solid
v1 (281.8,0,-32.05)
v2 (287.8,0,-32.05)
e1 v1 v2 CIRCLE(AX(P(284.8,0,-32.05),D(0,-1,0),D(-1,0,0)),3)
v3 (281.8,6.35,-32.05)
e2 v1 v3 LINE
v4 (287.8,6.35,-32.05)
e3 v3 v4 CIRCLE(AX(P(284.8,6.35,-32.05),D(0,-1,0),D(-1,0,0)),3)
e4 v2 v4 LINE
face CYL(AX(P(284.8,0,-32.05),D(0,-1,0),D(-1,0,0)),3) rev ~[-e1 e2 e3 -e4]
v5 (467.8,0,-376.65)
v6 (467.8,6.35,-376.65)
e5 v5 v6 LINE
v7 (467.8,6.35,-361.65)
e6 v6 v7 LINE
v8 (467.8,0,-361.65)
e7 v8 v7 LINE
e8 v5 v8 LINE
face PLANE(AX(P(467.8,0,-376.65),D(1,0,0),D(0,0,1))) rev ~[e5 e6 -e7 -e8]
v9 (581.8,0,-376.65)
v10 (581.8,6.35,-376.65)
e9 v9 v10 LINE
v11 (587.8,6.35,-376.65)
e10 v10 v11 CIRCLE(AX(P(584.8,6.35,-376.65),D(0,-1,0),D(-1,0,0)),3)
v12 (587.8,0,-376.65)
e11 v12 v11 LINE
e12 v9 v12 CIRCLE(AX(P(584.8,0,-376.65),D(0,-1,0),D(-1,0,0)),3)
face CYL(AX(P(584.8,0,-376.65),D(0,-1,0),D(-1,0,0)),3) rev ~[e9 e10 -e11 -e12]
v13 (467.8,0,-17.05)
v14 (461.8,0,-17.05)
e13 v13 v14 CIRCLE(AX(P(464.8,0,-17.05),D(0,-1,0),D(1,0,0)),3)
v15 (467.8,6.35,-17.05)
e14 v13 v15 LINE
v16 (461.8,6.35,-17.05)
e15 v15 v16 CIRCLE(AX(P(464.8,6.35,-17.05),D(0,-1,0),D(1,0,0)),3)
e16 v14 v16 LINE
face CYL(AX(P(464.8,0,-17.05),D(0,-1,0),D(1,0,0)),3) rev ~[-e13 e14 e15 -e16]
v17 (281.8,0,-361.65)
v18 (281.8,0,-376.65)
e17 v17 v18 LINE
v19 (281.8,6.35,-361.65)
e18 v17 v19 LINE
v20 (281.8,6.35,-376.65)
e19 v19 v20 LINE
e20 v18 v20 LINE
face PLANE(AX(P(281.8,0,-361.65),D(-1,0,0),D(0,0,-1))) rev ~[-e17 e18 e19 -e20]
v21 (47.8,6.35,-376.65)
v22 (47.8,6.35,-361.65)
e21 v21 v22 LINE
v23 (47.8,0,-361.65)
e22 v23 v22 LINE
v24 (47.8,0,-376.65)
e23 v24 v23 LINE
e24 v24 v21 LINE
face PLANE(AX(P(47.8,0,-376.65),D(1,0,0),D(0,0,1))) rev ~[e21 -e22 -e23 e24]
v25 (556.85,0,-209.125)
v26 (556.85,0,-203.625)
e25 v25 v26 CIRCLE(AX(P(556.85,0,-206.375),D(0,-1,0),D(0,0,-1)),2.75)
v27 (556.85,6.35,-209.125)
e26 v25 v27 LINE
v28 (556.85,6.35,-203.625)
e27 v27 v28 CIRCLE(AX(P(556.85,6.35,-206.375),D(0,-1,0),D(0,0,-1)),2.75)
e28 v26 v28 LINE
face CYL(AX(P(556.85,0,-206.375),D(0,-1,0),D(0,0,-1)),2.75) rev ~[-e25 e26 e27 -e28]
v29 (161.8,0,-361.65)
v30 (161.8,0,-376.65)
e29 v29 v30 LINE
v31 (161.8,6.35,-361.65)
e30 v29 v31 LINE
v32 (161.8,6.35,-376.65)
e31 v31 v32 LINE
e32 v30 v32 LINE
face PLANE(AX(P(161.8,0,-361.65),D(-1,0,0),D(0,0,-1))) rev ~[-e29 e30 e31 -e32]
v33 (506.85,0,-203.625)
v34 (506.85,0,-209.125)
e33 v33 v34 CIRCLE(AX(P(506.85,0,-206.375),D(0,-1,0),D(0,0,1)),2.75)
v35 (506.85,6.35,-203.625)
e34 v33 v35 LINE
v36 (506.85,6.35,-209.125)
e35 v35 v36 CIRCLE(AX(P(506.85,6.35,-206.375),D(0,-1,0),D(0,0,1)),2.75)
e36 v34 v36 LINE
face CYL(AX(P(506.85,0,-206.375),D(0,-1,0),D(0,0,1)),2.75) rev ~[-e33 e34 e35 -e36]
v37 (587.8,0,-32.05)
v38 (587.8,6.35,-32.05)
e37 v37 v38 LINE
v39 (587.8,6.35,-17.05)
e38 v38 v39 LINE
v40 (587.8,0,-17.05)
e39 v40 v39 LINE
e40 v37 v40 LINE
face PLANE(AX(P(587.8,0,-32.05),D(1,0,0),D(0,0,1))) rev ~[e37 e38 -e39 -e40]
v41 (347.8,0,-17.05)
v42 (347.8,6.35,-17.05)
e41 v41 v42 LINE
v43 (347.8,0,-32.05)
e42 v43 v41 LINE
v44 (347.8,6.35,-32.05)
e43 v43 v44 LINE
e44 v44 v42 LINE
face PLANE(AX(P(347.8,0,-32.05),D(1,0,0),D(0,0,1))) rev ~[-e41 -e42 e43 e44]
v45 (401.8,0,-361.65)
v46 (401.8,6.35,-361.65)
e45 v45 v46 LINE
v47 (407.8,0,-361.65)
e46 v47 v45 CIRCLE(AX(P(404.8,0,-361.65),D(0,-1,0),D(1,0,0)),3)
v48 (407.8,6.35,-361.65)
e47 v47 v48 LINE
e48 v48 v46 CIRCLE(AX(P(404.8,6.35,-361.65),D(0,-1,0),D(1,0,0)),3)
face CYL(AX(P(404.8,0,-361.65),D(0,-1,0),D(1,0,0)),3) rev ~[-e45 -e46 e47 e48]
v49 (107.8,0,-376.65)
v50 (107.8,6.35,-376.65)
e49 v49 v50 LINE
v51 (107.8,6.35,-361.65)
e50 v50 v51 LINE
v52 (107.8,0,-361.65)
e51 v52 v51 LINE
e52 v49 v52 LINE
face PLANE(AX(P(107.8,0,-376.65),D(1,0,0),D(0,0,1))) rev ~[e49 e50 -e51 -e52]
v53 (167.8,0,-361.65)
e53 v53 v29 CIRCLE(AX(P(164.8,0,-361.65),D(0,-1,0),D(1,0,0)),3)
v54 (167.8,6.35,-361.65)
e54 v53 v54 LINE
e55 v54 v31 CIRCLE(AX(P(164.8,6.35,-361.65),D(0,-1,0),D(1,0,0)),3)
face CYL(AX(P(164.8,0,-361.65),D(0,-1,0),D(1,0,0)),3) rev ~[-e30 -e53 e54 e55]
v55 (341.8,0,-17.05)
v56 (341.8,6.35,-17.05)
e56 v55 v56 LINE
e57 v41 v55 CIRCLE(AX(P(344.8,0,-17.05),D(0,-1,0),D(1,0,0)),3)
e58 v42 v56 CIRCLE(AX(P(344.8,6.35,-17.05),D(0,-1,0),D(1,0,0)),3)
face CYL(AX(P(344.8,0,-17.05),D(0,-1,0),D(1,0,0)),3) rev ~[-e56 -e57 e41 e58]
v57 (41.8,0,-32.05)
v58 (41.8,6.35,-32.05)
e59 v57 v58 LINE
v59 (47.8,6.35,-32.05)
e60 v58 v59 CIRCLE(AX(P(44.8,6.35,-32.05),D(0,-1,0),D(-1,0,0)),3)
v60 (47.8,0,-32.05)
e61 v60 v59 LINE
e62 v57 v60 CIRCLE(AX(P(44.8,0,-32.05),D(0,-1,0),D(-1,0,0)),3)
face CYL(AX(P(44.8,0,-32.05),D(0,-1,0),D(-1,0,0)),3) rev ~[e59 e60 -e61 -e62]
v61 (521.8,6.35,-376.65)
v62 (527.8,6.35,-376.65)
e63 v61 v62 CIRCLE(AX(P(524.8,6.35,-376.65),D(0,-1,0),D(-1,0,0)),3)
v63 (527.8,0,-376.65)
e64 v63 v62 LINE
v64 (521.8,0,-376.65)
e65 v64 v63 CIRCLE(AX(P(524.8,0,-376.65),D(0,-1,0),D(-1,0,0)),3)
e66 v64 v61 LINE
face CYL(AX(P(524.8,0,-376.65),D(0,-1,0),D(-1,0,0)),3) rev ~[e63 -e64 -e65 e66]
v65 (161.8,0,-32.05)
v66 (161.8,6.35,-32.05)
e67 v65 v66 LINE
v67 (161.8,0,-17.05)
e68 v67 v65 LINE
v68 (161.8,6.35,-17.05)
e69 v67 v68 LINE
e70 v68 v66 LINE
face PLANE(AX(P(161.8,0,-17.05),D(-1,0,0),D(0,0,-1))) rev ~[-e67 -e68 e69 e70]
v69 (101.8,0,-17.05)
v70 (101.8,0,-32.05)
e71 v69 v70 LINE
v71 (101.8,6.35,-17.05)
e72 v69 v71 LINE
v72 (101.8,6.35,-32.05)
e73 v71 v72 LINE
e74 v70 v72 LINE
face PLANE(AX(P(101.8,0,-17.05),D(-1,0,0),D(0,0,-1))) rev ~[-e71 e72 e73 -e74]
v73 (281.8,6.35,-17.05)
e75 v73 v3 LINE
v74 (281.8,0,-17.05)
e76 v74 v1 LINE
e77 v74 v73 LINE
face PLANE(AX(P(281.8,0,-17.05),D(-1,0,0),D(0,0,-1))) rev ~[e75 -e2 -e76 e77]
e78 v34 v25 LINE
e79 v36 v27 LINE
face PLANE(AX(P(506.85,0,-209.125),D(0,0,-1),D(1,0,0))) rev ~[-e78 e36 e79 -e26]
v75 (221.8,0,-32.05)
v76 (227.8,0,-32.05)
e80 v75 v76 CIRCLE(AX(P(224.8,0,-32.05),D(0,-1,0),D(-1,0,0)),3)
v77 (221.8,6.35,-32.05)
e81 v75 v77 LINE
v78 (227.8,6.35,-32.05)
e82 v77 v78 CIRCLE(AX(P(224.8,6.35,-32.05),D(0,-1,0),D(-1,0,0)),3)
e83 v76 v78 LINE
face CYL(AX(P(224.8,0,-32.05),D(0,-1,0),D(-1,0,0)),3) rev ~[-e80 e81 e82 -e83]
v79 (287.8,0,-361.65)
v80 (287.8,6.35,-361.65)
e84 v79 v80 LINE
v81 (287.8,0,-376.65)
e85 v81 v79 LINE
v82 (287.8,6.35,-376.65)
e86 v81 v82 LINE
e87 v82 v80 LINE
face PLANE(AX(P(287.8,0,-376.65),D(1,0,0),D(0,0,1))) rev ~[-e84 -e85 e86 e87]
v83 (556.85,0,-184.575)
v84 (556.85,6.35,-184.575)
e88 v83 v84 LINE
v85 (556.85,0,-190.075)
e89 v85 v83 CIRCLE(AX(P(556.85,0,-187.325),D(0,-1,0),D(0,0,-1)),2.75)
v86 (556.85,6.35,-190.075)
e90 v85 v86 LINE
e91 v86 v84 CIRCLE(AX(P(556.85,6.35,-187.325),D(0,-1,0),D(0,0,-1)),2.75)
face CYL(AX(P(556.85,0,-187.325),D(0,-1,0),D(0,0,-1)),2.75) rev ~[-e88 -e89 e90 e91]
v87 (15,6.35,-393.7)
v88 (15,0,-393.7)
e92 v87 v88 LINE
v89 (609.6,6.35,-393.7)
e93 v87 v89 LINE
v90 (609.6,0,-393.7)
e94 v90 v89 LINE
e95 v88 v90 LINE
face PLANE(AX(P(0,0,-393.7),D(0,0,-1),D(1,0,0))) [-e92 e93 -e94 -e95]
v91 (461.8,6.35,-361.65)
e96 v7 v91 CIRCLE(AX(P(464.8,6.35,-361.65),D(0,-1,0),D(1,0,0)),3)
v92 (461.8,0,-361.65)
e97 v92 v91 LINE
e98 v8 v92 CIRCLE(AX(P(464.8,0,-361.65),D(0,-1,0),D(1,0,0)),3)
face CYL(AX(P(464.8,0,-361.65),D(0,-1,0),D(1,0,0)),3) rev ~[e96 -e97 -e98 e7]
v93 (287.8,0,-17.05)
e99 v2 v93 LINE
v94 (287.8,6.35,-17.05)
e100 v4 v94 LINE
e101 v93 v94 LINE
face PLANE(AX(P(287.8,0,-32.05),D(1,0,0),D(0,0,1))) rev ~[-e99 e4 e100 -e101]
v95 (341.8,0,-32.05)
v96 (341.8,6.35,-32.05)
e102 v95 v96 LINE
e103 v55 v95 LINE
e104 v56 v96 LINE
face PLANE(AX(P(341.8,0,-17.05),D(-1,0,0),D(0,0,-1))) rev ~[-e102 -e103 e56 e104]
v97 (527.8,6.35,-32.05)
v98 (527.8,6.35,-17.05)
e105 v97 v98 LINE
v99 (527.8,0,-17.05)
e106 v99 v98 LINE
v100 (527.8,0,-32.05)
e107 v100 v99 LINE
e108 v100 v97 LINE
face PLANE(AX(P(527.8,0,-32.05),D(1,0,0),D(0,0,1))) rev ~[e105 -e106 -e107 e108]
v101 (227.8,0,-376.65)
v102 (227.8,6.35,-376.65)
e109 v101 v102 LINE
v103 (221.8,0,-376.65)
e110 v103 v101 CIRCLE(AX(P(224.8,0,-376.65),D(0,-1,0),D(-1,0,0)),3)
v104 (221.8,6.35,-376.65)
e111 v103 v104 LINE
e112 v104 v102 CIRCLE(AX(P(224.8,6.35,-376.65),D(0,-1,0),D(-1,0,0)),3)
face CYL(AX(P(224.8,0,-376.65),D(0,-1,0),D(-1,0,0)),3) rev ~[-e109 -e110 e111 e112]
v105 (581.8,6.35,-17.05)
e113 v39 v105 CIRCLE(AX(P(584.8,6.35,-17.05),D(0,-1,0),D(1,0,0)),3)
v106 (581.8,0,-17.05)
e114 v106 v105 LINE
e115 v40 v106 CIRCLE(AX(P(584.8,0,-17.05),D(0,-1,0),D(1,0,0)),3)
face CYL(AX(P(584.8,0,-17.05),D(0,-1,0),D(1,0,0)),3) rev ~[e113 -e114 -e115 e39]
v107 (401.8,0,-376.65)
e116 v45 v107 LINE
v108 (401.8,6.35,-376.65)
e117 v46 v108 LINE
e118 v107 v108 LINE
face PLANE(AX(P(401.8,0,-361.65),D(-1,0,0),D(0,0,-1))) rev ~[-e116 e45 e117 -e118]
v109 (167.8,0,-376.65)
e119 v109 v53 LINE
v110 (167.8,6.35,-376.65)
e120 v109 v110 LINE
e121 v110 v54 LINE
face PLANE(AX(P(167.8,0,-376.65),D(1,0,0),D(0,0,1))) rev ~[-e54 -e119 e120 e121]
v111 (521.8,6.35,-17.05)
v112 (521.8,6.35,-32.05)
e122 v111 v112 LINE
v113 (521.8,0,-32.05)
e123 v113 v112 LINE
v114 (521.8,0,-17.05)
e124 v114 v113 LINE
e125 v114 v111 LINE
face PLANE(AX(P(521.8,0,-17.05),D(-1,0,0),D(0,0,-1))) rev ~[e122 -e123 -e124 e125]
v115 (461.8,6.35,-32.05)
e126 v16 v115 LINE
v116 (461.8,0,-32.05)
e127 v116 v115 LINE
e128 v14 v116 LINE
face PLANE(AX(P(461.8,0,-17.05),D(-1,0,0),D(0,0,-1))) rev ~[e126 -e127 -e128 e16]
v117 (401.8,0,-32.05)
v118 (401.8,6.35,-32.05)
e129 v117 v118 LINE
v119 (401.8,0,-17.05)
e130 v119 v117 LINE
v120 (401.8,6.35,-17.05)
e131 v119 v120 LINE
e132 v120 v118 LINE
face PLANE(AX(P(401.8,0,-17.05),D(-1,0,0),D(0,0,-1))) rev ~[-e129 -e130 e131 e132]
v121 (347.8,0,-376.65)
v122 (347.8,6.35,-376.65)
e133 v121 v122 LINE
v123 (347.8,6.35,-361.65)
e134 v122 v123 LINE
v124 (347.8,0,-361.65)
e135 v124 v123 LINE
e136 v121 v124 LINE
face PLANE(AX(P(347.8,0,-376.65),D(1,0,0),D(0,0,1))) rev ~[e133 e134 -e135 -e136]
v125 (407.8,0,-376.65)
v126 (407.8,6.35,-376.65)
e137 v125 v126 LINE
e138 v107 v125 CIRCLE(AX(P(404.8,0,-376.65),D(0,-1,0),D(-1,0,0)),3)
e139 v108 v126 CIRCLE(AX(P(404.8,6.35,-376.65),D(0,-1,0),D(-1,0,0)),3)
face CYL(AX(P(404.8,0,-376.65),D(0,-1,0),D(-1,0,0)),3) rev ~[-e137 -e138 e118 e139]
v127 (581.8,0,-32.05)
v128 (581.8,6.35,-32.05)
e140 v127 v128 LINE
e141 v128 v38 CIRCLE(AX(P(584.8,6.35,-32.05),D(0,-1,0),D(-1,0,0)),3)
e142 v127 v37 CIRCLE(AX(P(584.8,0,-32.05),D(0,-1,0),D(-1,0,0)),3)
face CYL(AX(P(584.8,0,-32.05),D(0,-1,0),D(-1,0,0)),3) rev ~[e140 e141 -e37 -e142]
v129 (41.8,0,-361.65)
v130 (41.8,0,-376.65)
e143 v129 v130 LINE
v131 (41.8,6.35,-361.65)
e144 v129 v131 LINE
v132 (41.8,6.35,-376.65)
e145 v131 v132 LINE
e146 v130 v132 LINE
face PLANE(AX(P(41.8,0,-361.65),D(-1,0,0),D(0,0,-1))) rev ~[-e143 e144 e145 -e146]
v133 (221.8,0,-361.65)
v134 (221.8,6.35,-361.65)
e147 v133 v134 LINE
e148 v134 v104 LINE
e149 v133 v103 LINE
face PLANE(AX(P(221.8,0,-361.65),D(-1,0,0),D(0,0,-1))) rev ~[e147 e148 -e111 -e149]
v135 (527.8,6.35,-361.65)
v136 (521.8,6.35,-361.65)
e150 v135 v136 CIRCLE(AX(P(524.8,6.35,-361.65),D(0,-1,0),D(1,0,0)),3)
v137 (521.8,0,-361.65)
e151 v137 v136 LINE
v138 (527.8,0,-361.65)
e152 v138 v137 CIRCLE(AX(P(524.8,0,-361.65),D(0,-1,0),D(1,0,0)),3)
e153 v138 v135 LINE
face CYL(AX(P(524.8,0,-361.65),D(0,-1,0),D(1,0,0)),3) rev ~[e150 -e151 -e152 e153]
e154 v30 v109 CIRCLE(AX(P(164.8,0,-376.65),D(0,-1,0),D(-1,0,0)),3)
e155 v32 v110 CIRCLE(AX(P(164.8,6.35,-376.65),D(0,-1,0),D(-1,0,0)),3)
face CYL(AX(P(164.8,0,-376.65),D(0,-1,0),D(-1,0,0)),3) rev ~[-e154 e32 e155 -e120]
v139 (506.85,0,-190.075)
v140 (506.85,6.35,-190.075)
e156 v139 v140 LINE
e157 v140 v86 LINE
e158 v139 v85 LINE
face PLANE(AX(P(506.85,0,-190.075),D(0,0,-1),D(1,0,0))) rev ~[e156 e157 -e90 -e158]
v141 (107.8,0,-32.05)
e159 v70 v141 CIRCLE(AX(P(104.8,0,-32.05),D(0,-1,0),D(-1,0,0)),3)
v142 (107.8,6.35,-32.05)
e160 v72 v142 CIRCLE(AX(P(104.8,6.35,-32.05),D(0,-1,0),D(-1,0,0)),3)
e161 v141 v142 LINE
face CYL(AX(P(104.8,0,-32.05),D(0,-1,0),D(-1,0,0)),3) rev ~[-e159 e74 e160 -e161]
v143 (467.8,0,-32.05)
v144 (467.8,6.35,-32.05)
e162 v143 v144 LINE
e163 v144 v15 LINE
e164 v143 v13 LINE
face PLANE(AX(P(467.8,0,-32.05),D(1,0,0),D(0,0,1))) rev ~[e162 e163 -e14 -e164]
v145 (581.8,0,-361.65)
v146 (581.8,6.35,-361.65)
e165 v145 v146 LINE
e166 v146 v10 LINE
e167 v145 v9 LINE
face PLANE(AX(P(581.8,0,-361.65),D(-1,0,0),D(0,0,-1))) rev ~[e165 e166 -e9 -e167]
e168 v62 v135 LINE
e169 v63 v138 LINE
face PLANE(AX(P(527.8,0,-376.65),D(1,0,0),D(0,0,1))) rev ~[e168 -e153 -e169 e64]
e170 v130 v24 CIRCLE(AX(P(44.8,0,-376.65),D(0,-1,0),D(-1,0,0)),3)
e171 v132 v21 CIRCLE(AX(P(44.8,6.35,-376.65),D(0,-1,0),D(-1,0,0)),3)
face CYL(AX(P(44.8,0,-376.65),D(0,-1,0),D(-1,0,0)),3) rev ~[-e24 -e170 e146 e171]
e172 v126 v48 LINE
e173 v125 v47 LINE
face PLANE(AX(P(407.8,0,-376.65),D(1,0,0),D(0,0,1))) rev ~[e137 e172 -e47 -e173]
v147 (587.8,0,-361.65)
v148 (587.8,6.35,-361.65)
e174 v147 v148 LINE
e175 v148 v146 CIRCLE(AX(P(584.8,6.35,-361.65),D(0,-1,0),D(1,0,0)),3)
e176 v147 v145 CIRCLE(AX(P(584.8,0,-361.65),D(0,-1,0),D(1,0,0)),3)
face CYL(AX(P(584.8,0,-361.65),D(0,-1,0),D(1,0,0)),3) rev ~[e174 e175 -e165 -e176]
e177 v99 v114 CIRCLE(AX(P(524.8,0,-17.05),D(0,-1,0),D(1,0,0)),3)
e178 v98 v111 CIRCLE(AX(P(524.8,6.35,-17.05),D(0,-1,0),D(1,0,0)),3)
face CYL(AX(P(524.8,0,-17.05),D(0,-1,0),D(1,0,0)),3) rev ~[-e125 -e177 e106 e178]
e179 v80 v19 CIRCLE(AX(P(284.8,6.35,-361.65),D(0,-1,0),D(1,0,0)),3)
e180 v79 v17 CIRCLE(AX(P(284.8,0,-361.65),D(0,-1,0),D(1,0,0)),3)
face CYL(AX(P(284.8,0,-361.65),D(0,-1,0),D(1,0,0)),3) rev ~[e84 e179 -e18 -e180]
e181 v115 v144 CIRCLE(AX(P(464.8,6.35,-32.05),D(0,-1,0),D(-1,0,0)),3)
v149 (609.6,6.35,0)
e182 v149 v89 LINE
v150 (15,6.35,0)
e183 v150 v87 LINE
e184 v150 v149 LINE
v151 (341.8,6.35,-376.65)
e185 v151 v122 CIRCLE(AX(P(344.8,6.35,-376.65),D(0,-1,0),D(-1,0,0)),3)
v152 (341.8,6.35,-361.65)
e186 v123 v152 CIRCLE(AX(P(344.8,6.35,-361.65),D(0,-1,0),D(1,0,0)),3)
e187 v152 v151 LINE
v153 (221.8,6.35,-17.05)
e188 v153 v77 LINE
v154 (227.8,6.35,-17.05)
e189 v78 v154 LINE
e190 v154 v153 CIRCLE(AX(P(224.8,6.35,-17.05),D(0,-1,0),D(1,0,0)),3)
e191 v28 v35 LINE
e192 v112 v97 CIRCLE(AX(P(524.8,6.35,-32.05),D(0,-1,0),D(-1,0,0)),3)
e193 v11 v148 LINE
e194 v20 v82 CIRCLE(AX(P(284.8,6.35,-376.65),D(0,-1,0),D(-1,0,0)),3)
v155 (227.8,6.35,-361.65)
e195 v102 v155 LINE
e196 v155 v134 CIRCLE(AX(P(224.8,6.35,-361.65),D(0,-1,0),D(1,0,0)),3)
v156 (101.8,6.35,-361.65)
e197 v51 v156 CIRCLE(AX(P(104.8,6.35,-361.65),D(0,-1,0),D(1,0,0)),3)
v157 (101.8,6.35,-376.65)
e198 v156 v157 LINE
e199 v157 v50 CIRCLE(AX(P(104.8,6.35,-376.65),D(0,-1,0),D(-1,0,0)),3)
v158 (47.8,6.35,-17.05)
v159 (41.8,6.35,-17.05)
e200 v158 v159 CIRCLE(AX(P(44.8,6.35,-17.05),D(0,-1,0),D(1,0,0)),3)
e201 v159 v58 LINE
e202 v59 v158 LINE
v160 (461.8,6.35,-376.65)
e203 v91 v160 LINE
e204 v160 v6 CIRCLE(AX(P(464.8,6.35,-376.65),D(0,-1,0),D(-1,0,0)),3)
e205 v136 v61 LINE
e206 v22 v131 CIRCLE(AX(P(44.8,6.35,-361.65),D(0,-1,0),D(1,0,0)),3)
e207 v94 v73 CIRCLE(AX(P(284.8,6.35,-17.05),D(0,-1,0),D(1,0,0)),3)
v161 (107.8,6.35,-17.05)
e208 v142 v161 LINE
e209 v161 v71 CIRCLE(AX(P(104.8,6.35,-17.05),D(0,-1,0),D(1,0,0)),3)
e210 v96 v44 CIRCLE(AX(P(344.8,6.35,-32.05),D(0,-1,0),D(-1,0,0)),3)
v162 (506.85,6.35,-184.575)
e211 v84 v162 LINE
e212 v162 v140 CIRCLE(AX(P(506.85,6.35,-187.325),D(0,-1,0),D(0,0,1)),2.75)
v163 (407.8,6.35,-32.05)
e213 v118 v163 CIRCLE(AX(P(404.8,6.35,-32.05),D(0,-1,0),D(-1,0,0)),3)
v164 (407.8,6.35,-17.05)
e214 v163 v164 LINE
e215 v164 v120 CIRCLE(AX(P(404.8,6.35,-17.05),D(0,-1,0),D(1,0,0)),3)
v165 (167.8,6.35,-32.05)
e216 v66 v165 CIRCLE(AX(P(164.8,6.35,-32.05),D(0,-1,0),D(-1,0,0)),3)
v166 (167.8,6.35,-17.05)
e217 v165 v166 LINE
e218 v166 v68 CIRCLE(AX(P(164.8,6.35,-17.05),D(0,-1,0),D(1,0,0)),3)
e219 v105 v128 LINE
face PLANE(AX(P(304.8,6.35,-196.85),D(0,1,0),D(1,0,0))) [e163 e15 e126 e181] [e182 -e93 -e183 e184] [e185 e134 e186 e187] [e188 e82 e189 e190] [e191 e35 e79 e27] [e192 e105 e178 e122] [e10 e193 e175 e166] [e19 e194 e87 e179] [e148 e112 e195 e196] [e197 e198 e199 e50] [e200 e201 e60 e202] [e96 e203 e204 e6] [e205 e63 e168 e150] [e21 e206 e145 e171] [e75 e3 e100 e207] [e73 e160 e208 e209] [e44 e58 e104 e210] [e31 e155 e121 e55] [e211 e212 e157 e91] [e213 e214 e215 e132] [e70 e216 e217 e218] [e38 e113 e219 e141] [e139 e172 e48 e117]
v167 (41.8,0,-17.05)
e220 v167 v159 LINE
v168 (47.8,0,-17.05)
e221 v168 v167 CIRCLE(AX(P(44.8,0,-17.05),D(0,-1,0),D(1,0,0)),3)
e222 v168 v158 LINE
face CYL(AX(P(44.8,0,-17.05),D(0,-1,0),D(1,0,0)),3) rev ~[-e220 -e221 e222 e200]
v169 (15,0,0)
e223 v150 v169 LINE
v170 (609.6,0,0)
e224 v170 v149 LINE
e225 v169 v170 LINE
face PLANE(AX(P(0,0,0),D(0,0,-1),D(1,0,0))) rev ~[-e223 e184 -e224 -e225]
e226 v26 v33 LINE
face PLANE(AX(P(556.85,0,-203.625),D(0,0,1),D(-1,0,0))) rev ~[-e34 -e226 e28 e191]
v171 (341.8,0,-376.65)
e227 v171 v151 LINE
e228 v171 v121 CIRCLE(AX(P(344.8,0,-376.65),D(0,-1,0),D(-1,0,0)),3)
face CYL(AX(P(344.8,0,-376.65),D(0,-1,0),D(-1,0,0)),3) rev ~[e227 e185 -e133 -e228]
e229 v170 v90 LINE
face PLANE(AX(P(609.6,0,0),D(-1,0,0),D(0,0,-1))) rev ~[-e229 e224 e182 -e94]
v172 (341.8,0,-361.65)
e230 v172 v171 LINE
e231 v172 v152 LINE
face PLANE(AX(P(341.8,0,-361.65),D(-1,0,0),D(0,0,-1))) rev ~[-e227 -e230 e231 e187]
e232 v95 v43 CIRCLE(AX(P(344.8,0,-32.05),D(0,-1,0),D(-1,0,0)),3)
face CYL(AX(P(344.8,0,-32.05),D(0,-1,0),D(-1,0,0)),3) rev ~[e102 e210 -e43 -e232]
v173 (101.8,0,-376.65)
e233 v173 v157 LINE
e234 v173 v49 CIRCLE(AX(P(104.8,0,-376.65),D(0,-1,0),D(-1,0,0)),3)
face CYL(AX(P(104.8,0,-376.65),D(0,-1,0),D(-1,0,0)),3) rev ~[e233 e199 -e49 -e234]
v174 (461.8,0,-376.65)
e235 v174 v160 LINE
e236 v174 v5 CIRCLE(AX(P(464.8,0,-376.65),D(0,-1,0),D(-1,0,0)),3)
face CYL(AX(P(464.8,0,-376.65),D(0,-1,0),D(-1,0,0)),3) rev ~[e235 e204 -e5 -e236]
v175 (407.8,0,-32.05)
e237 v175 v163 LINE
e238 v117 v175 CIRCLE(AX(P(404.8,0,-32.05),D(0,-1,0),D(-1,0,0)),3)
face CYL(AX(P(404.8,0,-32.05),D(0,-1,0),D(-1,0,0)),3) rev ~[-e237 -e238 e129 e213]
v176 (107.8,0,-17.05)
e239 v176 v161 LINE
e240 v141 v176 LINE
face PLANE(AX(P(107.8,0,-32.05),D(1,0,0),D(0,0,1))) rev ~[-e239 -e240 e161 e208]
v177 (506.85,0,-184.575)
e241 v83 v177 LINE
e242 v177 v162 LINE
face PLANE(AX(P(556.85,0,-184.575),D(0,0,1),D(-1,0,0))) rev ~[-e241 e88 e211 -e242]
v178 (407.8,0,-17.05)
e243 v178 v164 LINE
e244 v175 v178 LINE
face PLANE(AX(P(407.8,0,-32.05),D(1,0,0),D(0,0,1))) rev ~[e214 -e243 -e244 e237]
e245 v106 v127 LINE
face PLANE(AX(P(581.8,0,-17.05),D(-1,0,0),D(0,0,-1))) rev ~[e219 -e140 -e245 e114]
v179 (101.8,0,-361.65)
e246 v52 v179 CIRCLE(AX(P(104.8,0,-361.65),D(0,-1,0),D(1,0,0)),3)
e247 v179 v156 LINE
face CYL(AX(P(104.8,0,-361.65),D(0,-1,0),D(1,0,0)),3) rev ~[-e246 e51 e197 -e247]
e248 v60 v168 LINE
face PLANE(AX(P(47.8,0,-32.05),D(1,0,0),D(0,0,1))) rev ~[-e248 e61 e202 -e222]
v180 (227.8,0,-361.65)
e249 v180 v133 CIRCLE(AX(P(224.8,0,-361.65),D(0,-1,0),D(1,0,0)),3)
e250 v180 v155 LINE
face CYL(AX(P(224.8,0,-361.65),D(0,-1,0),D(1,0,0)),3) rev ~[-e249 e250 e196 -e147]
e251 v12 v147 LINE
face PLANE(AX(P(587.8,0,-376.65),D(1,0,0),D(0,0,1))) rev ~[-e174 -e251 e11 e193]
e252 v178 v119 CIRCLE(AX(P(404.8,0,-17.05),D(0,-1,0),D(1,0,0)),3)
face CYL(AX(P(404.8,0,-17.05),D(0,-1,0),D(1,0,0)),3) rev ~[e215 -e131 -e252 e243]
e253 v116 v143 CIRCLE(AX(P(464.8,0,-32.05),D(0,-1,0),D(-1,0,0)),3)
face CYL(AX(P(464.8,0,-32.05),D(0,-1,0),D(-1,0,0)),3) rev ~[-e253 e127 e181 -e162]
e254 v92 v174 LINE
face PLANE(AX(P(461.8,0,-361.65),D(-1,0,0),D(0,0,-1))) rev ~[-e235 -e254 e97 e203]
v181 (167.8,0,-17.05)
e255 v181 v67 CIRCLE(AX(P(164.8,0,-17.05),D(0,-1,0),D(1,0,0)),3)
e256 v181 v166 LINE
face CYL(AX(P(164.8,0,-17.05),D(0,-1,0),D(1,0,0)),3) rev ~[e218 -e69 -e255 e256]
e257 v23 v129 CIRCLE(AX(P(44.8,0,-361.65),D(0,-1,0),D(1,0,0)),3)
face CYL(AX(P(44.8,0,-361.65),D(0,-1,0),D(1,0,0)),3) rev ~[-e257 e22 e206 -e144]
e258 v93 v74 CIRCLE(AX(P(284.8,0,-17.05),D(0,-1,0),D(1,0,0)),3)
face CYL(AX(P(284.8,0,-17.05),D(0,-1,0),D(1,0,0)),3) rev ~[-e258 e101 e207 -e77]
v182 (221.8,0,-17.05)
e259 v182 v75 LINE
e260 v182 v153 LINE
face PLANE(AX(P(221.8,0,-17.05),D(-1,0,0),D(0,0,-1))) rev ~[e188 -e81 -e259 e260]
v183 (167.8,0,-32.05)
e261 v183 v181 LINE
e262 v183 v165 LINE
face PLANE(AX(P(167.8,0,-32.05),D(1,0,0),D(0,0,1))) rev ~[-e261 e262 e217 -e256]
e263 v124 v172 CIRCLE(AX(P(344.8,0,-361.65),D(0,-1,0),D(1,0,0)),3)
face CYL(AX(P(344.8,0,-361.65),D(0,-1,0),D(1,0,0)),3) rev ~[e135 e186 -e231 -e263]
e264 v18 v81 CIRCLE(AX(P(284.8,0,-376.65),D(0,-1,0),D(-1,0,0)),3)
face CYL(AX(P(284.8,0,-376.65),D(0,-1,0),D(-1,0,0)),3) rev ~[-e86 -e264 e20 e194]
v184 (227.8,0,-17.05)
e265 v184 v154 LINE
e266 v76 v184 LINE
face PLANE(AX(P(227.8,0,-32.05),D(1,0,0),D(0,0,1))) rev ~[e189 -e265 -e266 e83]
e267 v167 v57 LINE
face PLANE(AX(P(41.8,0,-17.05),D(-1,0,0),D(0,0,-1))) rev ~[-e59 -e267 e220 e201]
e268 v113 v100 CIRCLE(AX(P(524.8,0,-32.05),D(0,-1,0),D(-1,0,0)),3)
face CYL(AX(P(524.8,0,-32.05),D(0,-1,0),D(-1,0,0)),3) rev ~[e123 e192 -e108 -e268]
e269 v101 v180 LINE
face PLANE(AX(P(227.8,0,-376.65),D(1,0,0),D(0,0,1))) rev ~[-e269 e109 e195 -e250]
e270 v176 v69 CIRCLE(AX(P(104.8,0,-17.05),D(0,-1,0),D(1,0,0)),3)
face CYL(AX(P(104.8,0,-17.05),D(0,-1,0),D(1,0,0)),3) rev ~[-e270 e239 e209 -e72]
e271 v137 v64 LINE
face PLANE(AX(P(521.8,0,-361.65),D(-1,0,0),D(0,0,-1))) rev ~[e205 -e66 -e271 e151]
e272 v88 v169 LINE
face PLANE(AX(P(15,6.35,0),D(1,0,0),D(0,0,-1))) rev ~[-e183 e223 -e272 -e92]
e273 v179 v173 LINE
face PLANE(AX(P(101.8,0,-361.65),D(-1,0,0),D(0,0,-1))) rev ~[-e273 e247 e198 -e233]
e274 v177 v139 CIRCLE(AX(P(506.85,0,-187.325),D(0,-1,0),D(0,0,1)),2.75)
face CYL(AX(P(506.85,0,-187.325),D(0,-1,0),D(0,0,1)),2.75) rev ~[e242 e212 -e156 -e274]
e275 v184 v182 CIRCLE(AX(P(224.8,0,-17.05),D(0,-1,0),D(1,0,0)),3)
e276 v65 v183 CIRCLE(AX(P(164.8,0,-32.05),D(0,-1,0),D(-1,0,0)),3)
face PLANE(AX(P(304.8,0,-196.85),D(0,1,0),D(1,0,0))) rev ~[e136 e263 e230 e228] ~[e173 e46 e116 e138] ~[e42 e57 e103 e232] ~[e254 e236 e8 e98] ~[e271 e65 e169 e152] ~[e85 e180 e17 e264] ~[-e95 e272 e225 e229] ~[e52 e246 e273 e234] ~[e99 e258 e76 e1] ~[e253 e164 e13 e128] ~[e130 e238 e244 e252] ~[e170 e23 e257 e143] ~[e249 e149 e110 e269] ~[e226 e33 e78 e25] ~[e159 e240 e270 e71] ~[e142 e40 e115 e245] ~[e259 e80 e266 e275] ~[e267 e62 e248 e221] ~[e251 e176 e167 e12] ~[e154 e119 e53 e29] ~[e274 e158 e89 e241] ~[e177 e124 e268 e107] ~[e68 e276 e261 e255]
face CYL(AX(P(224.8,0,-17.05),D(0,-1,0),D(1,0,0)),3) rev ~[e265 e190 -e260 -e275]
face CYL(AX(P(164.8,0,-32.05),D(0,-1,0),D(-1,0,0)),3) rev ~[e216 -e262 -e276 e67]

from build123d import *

# Parameters (mm, degrees)
SKETCH1_W           = 609.6
SKETCH1_H           = 393.7
BOSS_EXTRUDE1_DEPTH = 6.35
CUT_EXTRUDE1_REACH  = 727.708
SKETCH2_W           = 15
SKETCH2_H           = 393.7


with BuildPart() as part:
    # Sketch1 → Boss-Extrude1 (new body)
    with BuildSketch(Plane(origin=(0, 0, 0), x_dir=(1, 0, 0), z_dir=(0, 1, 0))):
        with Locations((304.8, 196.85)):
            Rectangle(SKETCH1_W, SKETCH1_H)
        with BuildLine():
            Line((587.8, 32.05), (587.8, 17.05))
            ThreePointArc((587.8, 17.05), (584.8, 14.05), (581.8, 17.05))
            Line((581.8, 17.05), (581.8, 32.05))
            ThreePointArc((581.8, 32.05), (584.8, 35.05), (587.8, 32.05))
        make_face(mode=Mode.SUBTRACT)
        with BuildLine():
            Line((527.8, 32.05), (527.8, 17.05))
            ThreePointArc((527.8, 17.05), (524.8, 14.05), (521.8, 17.05))
            Line((521.8, 17.05), (521.8, 32.05))
            ThreePointArc((521.8, 32.05), (524.8, 35.05), (527.8, 32.05))
        make_face(mode=Mode.SUBTRACT)
        with BuildLine():
            Line((467.8, 32.05), (467.8, 17.05))
            ThreePointArc((467.8, 17.05), (464.8, 14.05), (461.8, 17.05))
            Line((461.8, 17.05), (461.8, 32.05))
            ThreePointArc((461.8, 32.05), (464.8, 35.05), (467.8, 32.05))
        make_face(mode=Mode.SUBTRACT)
        with BuildLine():
            Line((407.8, 32.05), (407.8, 17.05))
            ThreePointArc((407.8, 17.05), (404.8, 14.05), (401.8, 17.05))
            Line((401.8, 17.05), (401.8, 32.05))
            ThreePointArc((401.8, 32.05), (404.8, 35.05), (407.8, 32.05))
        make_face(mode=Mode.SUBTRACT)
        with BuildLine():
            Line((347.8, 32.05), (347.8, 17.05))
            ThreePointArc((347.8, 17.05), (344.8, 14.05), (341.8, 17.05))
            Line((341.8, 17.05), (341.8, 32.05))
            ThreePointArc((341.8, 32.05), (344.8, 35.05), (347.8, 32.05))
        make_face(mode=Mode.SUBTRACT)
        with BuildLine():
            Line((287.8, 32.05), (287.8, 17.05))
            ThreePointArc((287.8, 17.05), (284.8, 14.05), (281.8, 17.05))
            Line((281.8, 17.05), (281.8, 32.05))
            ThreePointArc((281.8, 32.05), (284.8, 35.05), (287.8, 32.05))
        make_face(mode=Mode.SUBTRACT)
        with BuildLine():
            Line((227.8, 32.05), (227.8, 17.05))
            ThreePointArc((227.8, 17.05), (224.8, 14.05), (221.8, 17.05))
            Line((221.8, 17.05), (221.8, 32.05))
            ThreePointArc((221.8, 32.05), (224.8, 35.05), (227.8, 32.05))
        make_face(mode=Mode.SUBTRACT)
        with BuildLine():
            Line((167.8, 32.05), (167.8, 17.05))
            ThreePointArc((167.8, 17.05), (164.8, 14.05), (161.8, 17.05))
            Line((161.8, 17.05), (161.8, 32.05))
            ThreePointArc((161.8, 32.05), (164.8, 35.05), (167.8, 32.05))
        make_face(mode=Mode.SUBTRACT)
        with BuildLine():
            Line((107.8, 32.05), (107.8, 17.05))
            ThreePointArc((107.8, 17.05), (104.8, 14.05), (101.8, 17.05))
            Line((101.8, 17.05), (101.8, 32.05))
            ThreePointArc((101.8, 32.05), (104.8, 35.05), (107.8, 32.05))
        make_face(mode=Mode.SUBTRACT)
        with BuildLine():
            Line((47.8, 32.05), (47.8, 17.05))
            ThreePointArc((47.8, 17.05), (44.8, 14.05), (41.8, 17.05))
            Line((41.8, 17.05), (41.8, 32.05))
            ThreePointArc((41.8, 32.05), (44.8, 35.05), (47.8, 32.05))
        make_face(mode=Mode.SUBTRACT)
        with BuildLine():
            Line((527.8, 376.65), (527.8, 361.65))
            ThreePointArc((527.8, 361.65), (524.8, 358.65), (521.8, 361.65))
            Line((521.8, 361.65), (521.8, 376.65))
            ThreePointArc((521.8, 376.65), (524.8, 379.65), (527.8, 376.65))
        make_face(mode=Mode.SUBTRACT)
        with BuildLine():
            Line((467.8, 376.65), (467.8, 361.65))
            ThreePointArc((467.8, 361.65), (464.8, 358.65), (461.8, 361.65))
            Line((461.8, 361.65), (461.8, 376.65))
            ThreePointArc((461.8, 376.65), (464.8, 379.65), (467.8, 376.65))
        make_face(mode=Mode.SUBTRACT)
        with BuildLine():
            Line((407.8, 376.65), (407.8, 361.65))
            ThreePointArc((407.8, 361.65), (404.8, 358.65), (401.8, 361.65))
            Line((401.8, 361.65), (401.8, 376.65))
            ThreePointArc((401.8, 376.65), (404.8, 379.65), (407.8, 376.65))
        make_face(mode=Mode.SUBTRACT)
        with BuildLine():
            Line((347.8, 376.65), (347.8, 361.65))
            ThreePointArc((347.8, 361.65), (344.8, 358.65), (341.8, 361.65))
            Line((341.8, 361.65), (341.8, 376.65))
            ThreePointArc((341.8, 376.65), (344.8, 379.65), (347.8, 376.65))
        make_face(mode=Mode.SUBTRACT)
        with BuildLine():
            Line((287.8, 376.65), (287.8, 361.65))
            ThreePointArc((287.8, 361.65), (284.8, 358.65), (281.8, 361.65))
            Line((281.8, 361.65), (281.8, 376.65))
            ThreePointArc((281.8, 376.65), (284.8, 379.65), (287.8, 376.65))
        make_face(mode=Mode.SUBTRACT)
        with BuildLine():
            Line((227.8, 376.65), (227.8, 361.65))
            ThreePointArc((227.8, 361.65), (224.8, 358.65), (221.8, 361.65))
            Line((221.8, 361.65), (221.8, 376.65))
            ThreePointArc((221.8, 376.65), (224.8, 379.65), (227.8, 376.65))
        make_face(mode=Mode.SUBTRACT)
        with BuildLine():
            Line((167.8, 376.65), (167.8, 361.65))
            ThreePointArc((167.8, 361.65), (164.8, 358.65), (161.8, 361.65))
            Line((161.8, 361.65), (161.8, 376.65))
            ThreePointArc((161.8, 376.65), (164.8, 379.65), (167.8, 376.65))
        make_face(mode=Mode.SUBTRACT)
        with BuildLine():
            Line((107.8, 376.65), (107.8, 361.65))
            ThreePointArc((107.8, 361.65), (104.8, 358.65), (101.8, 361.65))
            Line((101.8, 361.65), (101.8, 376.65))
            ThreePointArc((101.8, 376.65), (104.8, 379.65), (107.8, 376.65))
        make_face(mode=Mode.SUBTRACT)
        with BuildLine():
            Line((47.8, 376.65), (47.8, 361.65))
            ThreePointArc((47.8, 361.65), (44.8, 358.65), (41.8, 361.65))
            Line((41.8, 361.65), (41.8, 376.65))
            ThreePointArc((41.8, 376.65), (44.8, 379.65), (47.8, 376.65))
        make_face(mode=Mode.SUBTRACT)
        with BuildLine():
            Line((587.8, 376.65), (587.8, 361.65))
            ThreePointArc((587.8, 361.65), (584.8, 358.65), (581.8, 361.65))
            Line((581.8, 361.65), (581.8, 376.65))
            ThreePointArc((581.8, 376.65), (584.8, 379.65), (587.8, 376.65))
        make_face(mode=Mode.SUBTRACT)
        with BuildLine():
            Line((506.85, 209.125), (556.85, 209.125))
            ThreePointArc((556.85, 209.125), (559.6, 206.375), (556.85, 203.625))
            Line((556.85, 203.625), (506.85, 203.625))
            ThreePointArc((506.85, 203.625), (504.1, 206.375), (506.85, 209.125))
        make_face(mode=Mode.SUBTRACT)
        with BuildLine():
            Line((506.85, 190.075), (556.85, 190.075))
            ThreePointArc((556.85, 190.075), (559.6, 187.325), (556.85, 184.575))
            Line((556.85, 184.575), (506.85, 184.575))
            ThreePointArc((506.85, 184.575), (504.1, 187.325), (506.85, 190.075))
        make_face(mode=Mode.SUBTRACT)
    extrude(amount=BOSS_EXTRUDE1_DEPTH)

    # Sketch2 → Cut-Extrude1 (cut, up to next)
    with BuildSketch(Plane(origin=(0, 6.35, 0), x_dir=(1, 0, 0), z_dir=(0, 1, 0)), mode=Mode.PRIVATE) as cut_extrude1_sk1:
        with Locations((7.5, 196.85)):
            Rectangle(SKETCH2_W, SKETCH2_H)
    cut_extrude1_tool1 = extrude(cut_extrude1_sk1.sketch, amount=-CUT_EXTRUDE1_REACH, mode=Mode.PRIVATE) & part.part
    add(cut_extrude1_tool1.solids().sort_by_distance((7.5, 6.35, -196.85))[0], mode=Mode.SUBTRACT)


solid = part.part
